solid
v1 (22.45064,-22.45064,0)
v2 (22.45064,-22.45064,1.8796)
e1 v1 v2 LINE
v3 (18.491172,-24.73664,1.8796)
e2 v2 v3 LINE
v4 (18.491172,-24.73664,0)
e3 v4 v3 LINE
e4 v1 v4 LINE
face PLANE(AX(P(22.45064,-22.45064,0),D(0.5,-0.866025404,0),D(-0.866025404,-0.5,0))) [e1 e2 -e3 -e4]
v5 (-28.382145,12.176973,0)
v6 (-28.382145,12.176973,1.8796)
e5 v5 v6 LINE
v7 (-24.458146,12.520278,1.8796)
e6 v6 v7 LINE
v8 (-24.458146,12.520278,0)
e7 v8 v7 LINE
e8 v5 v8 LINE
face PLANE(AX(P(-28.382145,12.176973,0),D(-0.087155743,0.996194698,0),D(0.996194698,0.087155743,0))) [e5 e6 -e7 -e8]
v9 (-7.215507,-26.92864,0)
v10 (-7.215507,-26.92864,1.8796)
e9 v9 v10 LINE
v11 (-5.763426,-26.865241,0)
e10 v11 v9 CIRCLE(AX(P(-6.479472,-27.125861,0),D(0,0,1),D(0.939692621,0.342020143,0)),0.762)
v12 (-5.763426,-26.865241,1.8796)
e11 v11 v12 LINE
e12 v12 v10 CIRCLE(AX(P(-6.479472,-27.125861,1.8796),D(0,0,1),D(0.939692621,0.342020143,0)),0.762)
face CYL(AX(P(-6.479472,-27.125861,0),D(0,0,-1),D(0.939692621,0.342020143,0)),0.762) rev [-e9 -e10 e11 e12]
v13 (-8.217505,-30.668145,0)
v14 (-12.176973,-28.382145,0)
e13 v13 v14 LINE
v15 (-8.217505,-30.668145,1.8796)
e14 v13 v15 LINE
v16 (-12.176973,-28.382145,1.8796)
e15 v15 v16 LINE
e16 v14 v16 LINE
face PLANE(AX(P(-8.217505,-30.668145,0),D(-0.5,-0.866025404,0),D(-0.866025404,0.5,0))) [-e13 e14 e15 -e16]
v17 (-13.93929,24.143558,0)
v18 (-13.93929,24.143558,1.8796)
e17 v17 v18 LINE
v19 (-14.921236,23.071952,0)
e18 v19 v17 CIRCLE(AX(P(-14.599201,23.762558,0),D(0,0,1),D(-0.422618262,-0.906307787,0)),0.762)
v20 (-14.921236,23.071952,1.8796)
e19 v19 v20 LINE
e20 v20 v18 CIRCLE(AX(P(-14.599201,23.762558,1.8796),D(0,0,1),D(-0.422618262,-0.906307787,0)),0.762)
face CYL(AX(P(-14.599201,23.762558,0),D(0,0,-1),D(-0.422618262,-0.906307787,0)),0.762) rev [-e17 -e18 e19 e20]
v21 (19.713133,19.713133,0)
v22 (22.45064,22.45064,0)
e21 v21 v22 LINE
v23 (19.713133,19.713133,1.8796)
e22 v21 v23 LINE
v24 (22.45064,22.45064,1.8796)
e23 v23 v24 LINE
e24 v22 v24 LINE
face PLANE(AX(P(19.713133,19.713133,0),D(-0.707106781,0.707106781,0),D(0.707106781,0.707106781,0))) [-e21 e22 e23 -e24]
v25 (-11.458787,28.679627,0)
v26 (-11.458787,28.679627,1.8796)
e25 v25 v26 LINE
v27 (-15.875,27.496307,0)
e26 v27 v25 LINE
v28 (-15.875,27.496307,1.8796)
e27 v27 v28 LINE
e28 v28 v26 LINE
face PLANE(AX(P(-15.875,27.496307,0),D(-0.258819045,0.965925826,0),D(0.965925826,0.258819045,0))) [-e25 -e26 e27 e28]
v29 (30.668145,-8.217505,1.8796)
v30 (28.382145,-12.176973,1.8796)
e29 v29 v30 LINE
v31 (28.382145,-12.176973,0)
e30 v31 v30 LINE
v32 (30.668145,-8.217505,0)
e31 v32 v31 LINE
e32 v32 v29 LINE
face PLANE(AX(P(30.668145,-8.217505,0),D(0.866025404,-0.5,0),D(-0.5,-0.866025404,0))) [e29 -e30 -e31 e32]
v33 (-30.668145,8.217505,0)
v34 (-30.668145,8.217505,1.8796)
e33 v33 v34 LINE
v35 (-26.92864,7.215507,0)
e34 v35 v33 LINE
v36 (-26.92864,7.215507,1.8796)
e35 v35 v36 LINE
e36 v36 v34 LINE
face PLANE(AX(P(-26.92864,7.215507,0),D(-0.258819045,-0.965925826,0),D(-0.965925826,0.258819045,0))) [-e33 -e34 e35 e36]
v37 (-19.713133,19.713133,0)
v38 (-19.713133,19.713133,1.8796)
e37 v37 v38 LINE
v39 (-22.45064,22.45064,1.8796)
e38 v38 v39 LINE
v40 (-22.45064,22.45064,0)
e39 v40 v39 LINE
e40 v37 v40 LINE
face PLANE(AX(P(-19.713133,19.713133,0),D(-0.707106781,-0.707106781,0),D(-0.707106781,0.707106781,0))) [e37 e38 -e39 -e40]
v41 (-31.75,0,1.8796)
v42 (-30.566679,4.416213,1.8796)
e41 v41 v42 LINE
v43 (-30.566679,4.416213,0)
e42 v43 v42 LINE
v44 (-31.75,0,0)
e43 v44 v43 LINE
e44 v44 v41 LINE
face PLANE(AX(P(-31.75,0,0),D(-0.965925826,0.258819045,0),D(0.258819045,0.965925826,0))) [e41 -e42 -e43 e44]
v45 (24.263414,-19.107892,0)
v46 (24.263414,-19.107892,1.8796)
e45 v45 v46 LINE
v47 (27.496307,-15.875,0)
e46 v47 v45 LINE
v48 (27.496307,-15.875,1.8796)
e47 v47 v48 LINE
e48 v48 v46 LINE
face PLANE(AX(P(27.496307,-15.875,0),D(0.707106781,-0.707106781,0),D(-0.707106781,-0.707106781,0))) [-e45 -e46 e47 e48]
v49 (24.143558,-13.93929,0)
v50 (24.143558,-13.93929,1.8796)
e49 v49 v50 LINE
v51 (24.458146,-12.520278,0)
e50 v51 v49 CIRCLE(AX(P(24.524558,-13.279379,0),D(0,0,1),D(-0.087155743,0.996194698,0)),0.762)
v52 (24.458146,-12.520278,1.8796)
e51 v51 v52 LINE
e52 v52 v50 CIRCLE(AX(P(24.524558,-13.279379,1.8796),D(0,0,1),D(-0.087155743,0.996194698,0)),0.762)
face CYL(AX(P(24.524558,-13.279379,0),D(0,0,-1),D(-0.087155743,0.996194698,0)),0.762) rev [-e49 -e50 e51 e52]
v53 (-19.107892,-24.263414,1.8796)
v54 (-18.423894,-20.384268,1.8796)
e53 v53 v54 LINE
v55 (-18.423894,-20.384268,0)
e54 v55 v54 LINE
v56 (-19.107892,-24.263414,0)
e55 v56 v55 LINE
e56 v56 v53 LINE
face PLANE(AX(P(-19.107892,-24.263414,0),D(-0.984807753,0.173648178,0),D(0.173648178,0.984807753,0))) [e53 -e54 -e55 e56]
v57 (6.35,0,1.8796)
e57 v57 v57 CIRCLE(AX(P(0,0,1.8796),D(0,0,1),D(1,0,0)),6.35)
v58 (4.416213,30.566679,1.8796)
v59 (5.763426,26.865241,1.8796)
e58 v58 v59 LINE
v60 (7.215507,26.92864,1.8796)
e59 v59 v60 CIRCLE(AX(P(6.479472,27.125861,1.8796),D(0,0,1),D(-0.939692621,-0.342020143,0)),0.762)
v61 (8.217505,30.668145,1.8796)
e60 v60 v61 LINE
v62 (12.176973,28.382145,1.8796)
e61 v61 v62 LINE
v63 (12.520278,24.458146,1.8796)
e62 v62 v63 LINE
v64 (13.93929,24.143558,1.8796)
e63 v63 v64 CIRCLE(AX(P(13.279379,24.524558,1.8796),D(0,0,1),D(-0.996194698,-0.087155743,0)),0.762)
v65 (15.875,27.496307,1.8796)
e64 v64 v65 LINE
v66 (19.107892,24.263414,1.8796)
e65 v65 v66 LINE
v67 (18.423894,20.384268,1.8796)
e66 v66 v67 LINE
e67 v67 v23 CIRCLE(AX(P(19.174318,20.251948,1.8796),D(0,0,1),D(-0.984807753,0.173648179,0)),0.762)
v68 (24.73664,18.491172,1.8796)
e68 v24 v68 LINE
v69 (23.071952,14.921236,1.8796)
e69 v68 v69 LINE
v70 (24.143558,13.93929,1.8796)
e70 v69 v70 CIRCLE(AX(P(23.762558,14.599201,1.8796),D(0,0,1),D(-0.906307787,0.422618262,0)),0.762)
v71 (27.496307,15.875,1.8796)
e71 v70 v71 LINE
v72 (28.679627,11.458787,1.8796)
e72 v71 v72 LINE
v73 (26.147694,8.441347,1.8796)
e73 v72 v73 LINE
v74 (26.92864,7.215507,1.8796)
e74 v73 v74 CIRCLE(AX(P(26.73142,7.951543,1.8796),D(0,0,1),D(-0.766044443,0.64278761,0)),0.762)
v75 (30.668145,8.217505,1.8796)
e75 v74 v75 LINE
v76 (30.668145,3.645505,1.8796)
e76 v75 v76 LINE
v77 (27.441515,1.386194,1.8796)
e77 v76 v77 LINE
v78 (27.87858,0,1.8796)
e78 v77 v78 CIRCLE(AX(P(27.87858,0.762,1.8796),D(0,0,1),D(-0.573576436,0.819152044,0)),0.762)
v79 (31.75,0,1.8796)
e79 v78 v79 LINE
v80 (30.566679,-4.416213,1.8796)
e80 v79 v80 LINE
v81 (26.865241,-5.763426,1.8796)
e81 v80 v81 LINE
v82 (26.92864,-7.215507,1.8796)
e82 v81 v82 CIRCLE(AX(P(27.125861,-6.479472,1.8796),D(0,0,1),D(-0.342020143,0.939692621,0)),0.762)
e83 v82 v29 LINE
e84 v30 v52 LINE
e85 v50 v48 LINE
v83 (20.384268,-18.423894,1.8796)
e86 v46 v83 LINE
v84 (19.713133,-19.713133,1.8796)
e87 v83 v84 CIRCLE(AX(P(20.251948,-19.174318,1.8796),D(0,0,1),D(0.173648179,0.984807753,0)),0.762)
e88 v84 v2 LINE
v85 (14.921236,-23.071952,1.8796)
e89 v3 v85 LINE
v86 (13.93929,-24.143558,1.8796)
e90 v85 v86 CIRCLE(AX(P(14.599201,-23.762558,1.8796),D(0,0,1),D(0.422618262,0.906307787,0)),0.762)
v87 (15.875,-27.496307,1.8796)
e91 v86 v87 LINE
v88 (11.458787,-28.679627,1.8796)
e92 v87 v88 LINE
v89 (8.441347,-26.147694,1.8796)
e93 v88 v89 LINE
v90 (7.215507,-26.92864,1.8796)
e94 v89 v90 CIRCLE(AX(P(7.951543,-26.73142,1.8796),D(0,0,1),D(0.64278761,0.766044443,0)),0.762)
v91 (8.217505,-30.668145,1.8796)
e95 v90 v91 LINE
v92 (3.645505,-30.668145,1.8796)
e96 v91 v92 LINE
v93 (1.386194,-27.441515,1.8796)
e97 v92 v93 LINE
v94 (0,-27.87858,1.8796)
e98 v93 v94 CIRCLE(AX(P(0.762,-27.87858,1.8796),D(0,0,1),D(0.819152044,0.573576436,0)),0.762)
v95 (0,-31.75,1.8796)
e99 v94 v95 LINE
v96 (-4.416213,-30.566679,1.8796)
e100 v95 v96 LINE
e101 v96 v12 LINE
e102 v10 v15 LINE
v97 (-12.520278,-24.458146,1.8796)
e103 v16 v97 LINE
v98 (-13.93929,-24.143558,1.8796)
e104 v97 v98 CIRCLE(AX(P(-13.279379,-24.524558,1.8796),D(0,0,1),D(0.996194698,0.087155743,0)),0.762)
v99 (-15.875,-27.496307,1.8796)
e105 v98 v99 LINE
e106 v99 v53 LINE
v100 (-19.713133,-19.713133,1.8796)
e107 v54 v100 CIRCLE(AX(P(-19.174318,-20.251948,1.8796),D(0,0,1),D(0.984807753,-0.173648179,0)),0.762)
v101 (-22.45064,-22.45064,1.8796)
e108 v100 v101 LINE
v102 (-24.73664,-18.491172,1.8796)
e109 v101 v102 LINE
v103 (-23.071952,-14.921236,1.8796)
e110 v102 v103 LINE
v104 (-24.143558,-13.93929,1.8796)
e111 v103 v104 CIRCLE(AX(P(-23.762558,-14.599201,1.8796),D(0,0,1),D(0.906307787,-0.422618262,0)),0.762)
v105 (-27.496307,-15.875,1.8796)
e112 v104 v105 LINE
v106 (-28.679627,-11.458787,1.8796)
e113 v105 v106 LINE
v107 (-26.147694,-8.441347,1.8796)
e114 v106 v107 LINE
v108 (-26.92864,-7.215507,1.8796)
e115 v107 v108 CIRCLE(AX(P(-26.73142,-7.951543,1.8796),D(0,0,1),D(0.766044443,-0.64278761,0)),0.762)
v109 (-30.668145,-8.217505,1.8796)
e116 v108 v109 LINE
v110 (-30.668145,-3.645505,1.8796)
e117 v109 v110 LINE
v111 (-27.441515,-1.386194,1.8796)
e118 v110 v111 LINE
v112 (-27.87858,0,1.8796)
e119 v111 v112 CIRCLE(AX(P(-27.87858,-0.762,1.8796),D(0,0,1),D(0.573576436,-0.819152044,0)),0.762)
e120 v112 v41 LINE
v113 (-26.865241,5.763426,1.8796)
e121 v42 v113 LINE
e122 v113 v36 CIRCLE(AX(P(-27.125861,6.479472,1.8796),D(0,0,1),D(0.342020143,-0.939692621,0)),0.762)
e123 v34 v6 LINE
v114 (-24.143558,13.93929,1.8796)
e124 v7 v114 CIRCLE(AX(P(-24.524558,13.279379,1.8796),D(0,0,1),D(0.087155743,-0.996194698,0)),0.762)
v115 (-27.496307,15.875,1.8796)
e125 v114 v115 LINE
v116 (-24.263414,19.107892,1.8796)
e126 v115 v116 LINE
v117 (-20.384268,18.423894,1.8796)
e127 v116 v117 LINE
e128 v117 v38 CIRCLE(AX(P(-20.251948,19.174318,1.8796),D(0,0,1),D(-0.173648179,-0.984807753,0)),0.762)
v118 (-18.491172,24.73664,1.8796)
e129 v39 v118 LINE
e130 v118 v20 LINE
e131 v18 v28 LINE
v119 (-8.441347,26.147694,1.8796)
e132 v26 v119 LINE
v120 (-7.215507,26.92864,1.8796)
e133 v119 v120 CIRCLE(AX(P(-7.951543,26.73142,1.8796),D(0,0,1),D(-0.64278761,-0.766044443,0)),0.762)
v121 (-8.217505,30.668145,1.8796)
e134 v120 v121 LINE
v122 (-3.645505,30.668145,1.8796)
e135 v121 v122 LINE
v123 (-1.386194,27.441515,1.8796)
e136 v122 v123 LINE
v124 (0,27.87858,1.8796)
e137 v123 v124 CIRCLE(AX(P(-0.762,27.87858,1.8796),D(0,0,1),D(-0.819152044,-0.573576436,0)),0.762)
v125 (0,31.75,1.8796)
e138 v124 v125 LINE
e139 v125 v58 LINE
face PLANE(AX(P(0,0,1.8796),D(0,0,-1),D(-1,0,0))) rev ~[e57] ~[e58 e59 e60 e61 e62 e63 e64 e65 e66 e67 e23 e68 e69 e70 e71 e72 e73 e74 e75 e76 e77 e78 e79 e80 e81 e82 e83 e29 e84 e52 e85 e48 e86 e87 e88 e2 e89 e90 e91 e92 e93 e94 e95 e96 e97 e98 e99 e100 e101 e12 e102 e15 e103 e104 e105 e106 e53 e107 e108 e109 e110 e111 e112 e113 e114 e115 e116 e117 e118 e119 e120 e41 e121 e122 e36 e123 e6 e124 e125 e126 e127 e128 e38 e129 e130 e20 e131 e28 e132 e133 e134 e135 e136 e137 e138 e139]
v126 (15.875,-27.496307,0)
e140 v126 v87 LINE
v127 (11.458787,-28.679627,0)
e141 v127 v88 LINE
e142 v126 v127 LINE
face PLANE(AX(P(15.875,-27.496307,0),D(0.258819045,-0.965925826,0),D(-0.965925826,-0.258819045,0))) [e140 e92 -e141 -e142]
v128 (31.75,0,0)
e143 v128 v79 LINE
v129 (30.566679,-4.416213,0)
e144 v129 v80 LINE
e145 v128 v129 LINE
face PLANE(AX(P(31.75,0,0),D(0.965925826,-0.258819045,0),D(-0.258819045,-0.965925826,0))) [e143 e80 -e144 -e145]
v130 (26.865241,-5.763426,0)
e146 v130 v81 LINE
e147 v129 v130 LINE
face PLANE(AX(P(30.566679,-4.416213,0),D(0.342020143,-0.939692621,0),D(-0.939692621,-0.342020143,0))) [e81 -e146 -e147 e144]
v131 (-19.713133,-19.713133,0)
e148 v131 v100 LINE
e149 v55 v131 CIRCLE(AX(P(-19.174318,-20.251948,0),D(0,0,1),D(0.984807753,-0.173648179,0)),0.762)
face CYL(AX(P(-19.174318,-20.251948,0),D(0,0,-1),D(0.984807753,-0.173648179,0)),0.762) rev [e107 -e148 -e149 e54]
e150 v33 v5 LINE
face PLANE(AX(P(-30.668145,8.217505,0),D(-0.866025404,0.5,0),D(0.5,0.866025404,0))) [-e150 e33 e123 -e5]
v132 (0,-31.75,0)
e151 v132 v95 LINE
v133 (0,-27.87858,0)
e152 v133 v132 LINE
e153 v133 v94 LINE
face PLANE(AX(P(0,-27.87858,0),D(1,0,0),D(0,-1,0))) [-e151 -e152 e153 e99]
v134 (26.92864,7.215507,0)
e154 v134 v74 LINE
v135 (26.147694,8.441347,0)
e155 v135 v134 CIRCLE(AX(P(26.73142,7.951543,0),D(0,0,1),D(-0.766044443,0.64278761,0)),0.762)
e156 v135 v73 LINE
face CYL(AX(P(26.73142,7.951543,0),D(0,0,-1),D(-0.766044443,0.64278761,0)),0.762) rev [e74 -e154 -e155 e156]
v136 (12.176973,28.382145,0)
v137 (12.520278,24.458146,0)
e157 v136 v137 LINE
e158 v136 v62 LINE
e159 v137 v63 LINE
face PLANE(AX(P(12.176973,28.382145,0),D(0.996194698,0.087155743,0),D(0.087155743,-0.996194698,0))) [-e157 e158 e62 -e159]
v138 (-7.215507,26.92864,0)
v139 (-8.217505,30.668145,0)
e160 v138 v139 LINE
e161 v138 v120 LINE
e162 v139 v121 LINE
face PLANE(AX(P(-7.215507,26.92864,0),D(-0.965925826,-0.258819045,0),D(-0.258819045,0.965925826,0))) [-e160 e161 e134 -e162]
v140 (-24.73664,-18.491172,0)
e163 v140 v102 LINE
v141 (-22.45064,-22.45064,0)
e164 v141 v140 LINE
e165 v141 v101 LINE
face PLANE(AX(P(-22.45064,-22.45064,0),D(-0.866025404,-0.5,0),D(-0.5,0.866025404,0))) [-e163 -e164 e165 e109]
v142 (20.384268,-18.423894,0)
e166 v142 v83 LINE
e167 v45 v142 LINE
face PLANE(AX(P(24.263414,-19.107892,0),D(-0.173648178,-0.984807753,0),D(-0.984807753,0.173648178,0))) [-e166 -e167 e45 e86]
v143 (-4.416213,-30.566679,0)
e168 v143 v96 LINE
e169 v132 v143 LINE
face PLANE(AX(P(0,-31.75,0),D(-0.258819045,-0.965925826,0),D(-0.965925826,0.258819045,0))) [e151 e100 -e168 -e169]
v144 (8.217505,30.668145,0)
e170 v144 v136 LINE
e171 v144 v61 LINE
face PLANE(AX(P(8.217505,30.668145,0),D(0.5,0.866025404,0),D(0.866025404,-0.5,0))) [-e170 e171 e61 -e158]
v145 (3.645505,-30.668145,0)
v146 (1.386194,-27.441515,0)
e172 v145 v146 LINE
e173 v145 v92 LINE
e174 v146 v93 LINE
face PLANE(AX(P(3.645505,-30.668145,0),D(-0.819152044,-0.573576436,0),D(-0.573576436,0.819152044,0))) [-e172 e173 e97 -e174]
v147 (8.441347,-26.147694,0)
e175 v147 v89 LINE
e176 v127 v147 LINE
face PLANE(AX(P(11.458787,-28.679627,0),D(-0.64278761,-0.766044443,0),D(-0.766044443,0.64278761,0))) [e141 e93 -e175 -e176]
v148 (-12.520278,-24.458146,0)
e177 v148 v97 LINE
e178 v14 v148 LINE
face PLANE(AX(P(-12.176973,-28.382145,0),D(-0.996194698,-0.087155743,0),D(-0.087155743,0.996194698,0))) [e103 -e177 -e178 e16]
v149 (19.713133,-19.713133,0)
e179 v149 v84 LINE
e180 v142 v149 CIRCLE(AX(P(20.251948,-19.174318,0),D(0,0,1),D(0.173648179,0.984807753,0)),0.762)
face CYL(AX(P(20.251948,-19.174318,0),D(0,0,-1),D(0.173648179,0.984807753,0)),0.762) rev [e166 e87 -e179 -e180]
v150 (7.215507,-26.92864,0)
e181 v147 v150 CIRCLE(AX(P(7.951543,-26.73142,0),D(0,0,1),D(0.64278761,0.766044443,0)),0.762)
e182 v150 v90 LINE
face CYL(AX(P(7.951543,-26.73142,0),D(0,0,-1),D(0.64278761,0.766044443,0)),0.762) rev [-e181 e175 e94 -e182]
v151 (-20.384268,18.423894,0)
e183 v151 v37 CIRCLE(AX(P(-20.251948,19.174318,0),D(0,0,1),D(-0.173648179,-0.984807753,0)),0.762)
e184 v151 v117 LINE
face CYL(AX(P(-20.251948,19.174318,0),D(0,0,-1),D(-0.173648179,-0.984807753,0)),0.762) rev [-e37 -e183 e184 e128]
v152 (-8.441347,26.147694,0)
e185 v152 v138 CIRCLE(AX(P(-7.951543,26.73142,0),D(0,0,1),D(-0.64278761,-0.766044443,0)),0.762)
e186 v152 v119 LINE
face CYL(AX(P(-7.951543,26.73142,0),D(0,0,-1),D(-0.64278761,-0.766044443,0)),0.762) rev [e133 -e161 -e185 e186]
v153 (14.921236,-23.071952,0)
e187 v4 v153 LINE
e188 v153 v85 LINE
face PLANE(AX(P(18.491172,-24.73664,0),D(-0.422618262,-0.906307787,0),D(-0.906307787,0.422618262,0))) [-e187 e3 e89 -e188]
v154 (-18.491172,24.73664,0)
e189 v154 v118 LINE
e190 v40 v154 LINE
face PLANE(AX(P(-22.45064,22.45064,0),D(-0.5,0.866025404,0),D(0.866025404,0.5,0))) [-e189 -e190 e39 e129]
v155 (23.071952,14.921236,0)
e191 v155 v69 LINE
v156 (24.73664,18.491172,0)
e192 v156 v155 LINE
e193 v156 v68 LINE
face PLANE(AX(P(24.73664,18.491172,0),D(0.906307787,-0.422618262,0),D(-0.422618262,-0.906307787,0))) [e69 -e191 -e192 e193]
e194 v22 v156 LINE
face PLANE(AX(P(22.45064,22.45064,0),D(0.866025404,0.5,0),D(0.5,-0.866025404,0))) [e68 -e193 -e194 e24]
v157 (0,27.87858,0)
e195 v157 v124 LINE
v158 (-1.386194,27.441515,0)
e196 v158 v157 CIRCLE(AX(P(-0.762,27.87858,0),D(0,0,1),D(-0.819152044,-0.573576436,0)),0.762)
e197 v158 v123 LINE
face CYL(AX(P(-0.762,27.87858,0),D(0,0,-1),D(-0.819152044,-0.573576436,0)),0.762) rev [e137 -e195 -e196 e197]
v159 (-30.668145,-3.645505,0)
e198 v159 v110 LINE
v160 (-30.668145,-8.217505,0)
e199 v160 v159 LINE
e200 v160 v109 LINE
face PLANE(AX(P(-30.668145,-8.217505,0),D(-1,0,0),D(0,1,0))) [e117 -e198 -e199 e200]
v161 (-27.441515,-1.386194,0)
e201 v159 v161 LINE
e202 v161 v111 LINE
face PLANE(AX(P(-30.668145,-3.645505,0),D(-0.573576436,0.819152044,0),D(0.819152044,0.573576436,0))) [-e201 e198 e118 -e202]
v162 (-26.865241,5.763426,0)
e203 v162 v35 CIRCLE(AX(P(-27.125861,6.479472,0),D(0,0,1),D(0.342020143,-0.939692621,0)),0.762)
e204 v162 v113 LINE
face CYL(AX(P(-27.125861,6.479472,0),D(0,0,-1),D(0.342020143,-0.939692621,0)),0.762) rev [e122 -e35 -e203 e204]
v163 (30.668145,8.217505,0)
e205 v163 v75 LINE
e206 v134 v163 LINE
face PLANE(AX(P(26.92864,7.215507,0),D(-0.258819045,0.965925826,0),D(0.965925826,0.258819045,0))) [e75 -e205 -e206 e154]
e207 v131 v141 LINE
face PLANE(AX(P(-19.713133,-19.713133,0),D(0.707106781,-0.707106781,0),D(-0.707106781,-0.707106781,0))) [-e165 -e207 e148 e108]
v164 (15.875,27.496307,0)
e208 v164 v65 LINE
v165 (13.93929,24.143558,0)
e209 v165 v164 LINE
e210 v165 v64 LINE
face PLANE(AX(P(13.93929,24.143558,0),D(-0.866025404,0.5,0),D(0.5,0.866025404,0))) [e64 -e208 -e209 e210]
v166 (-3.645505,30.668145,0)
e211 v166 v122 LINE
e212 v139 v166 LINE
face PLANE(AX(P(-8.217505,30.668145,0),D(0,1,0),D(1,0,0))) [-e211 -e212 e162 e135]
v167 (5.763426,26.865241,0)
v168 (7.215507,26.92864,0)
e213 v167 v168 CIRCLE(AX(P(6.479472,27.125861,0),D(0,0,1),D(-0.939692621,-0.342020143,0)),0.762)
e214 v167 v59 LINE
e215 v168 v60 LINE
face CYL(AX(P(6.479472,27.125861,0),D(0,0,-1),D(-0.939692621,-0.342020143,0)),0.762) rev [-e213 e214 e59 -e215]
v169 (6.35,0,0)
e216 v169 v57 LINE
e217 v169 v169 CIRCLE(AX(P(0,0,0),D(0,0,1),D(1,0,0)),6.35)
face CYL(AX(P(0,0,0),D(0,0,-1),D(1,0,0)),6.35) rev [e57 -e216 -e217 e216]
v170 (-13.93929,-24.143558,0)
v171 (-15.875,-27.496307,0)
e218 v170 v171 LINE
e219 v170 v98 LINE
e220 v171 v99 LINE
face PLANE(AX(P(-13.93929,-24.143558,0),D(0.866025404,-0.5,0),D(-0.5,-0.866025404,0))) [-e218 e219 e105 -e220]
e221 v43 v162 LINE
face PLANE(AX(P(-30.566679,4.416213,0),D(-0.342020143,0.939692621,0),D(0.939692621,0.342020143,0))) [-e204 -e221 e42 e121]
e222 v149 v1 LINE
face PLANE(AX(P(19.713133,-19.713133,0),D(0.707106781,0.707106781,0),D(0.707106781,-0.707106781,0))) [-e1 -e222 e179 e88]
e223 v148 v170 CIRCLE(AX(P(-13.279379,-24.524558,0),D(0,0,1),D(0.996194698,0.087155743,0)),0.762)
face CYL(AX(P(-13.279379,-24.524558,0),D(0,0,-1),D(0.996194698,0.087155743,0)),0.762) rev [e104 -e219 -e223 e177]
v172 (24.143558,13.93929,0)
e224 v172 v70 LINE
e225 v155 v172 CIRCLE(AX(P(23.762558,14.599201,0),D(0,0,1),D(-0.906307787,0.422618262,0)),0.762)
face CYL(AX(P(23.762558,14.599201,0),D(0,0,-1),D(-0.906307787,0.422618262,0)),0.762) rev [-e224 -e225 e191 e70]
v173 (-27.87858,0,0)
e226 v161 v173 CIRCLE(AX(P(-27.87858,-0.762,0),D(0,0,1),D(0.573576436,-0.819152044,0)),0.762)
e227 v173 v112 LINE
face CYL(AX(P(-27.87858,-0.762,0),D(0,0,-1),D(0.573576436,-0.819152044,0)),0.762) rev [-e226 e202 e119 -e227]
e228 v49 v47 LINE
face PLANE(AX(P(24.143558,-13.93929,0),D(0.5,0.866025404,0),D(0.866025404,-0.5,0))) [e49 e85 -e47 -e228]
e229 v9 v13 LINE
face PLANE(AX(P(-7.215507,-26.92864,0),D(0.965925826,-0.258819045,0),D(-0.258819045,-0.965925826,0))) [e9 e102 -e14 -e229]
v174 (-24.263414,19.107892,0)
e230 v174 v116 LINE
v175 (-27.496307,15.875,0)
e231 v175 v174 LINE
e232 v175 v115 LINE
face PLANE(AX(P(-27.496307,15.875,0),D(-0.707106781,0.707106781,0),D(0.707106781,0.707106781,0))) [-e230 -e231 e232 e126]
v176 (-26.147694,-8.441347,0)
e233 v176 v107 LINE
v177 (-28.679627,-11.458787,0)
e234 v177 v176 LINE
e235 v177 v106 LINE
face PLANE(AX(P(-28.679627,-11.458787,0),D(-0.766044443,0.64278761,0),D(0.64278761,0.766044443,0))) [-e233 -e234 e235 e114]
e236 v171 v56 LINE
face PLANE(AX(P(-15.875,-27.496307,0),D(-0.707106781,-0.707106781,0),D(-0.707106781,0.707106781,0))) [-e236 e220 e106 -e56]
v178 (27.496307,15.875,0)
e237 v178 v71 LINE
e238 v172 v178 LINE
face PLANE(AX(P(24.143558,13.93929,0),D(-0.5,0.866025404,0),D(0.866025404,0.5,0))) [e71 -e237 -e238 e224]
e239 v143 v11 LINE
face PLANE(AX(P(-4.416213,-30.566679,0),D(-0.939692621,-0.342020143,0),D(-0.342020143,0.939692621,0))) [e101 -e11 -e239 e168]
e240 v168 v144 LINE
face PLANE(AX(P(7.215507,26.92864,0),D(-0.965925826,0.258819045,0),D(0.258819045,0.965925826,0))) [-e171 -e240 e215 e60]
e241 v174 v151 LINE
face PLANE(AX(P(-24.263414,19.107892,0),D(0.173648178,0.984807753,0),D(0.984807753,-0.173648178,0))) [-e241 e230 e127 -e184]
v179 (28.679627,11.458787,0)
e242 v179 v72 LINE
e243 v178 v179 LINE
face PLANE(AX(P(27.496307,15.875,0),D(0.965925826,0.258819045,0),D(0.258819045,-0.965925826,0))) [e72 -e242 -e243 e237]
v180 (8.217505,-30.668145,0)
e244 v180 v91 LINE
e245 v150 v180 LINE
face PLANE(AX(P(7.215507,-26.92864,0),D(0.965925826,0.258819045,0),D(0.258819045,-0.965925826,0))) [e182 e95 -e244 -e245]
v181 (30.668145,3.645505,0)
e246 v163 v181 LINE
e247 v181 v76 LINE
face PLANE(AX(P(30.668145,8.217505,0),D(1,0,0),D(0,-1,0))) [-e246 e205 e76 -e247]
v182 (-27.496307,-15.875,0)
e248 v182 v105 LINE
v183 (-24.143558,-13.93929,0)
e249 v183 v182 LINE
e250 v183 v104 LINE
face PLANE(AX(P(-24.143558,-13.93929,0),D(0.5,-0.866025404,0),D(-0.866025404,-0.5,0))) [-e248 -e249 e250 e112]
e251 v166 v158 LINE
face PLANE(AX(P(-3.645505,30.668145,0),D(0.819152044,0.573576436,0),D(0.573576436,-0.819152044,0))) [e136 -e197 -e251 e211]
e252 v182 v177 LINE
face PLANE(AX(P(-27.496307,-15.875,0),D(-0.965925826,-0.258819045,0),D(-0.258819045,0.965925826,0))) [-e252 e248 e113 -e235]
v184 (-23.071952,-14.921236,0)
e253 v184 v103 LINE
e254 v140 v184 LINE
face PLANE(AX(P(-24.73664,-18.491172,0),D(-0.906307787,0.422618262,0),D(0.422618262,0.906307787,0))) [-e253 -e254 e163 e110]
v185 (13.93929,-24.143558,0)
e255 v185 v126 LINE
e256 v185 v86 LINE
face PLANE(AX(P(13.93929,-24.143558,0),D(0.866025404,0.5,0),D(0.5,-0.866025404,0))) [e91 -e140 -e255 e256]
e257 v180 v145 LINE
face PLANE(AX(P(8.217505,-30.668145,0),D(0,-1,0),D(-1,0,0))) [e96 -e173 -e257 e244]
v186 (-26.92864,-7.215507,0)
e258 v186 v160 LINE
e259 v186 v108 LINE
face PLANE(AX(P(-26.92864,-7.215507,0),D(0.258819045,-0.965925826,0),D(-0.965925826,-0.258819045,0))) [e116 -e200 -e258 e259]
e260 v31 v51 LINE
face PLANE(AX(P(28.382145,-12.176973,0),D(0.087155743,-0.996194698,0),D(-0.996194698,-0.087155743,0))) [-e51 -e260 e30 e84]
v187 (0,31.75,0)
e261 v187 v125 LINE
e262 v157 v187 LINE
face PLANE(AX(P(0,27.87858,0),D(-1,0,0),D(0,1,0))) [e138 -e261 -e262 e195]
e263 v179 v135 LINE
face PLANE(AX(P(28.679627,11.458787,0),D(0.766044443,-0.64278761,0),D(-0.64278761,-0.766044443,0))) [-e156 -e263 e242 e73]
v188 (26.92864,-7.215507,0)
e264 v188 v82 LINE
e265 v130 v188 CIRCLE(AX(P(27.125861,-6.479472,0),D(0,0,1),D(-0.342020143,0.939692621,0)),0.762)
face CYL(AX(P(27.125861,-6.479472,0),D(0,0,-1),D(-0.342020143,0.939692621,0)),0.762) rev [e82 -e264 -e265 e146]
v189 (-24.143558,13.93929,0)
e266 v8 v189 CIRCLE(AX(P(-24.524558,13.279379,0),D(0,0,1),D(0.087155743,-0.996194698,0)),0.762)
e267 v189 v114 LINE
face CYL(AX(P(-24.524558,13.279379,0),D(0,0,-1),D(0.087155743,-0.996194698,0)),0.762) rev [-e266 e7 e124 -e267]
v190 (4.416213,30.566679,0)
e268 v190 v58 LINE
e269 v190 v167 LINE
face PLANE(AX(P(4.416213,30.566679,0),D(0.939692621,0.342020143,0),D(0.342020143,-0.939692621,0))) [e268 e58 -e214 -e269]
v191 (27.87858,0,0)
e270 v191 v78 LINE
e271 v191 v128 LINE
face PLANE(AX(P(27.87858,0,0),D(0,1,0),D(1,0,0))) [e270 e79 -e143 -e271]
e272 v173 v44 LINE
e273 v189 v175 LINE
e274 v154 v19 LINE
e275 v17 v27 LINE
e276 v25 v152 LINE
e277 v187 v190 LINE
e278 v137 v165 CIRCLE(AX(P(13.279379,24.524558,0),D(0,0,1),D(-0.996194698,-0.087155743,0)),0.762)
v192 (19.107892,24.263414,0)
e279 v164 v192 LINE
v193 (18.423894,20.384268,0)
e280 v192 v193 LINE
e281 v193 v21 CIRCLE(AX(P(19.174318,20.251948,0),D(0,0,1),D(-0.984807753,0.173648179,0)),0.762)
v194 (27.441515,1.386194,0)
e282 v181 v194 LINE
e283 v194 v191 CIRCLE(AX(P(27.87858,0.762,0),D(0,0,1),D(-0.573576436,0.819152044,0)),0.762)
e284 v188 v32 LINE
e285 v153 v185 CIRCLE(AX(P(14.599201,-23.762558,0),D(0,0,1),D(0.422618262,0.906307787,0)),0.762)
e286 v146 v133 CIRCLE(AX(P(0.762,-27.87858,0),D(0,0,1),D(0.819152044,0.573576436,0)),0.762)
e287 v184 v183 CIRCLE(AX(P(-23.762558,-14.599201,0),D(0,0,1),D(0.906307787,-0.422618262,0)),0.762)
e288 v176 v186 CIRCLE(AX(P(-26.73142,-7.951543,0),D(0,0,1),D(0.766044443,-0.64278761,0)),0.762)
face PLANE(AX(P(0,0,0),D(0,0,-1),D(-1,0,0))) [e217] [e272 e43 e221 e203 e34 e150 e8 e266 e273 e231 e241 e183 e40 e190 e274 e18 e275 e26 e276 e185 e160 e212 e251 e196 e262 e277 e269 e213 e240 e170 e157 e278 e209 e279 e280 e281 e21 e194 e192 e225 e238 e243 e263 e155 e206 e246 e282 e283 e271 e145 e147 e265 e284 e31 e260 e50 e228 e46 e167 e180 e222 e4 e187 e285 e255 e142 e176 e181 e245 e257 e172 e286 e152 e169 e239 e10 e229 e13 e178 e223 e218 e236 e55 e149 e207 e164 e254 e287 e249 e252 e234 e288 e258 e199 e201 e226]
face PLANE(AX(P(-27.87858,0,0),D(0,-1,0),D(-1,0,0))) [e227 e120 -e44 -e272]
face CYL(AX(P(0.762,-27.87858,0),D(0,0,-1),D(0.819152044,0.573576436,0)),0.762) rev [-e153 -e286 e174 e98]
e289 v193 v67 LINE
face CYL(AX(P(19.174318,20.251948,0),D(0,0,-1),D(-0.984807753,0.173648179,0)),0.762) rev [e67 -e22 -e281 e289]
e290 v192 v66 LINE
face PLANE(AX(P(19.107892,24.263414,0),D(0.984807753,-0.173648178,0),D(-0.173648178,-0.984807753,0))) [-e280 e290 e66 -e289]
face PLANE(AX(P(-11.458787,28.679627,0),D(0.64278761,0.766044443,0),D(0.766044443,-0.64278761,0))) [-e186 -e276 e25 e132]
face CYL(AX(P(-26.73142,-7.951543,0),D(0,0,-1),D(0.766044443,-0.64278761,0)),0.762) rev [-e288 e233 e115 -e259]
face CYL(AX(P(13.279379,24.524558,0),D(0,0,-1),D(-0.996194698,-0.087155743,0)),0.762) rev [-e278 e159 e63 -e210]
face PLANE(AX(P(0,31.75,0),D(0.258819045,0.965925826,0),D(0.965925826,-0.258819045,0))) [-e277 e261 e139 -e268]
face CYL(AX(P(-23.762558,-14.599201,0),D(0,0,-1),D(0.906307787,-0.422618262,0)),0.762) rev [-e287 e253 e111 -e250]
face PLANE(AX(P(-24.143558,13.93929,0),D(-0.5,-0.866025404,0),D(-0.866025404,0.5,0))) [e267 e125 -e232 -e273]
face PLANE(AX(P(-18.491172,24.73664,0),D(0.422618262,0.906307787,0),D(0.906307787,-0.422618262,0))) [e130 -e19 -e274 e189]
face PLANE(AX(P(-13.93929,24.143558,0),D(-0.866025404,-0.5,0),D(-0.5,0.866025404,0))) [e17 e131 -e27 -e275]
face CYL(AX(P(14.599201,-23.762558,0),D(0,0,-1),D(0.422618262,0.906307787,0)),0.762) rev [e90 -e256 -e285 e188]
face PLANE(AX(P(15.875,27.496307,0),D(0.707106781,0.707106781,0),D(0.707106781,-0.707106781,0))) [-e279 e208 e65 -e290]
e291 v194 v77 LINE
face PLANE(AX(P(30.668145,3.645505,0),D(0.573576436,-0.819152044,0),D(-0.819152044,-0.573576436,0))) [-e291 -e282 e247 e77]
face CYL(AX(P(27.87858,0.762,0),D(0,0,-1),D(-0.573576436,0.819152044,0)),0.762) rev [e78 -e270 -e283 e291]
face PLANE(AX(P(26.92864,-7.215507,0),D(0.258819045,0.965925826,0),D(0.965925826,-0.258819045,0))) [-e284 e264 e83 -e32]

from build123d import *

# Parameters (mm, degrees)
SKETCH1_R           = 6.35
BOSS_EXTRUDE1_DEPTH = 1.8796


with BuildPart() as part:
    # Sketch1 → Boss-Extrude1 (new body)
    with BuildSketch(Plane.XY):
        with BuildLine():
            Line((0, 31.75), (4.416212878, 30.566679326))
            Line((4.416212878, 30.566679326), (5.763426192, 26.865241165))
            ThreePointArc((5.763426192, 26.865241165), (6.512709942, 26.364585769), (7.215507449, 26.928640402))
            Line((7.215507449, 26.928640402), (8.217504682, 30.668144985))
            Line((8.217504682, 30.668144985), (12.176972828, 28.382144985))
            Line((12.176972828, 28.382144985), (12.520278272, 24.458145807))
            ThreePointArc((12.520278272, 24.458145807), (13.114451646, 23.780620926), (13.939289989, 24.143558483))
            Line((13.939289989, 24.143558483), (15.875, 27.49630657))
            Line((15.875, 27.49630657), (19.107892204, 24.263414367))
            Line((19.107892204, 24.263414367), (18.423894078, 20.384268232))
            ThreePointArc((18.423894078, 20.384268232), (18.822465142, 19.576046065), (19.713132953, 19.713132953))
            Line((19.713132953, 19.713132953), (22.450640303, 22.450640303))
            Line((22.450640303, 22.450640303), (24.736640303, 18.491172157))
            Line((24.736640303, 18.491172157), (23.071951949, 14.921236463))
            ThreePointArc((23.071951949, 14.921236463), (23.247758745, 14.037396016), (24.143558483, 13.939289989))
            Line((24.143558483, 13.939289989), (27.49630657, 15.875))
            Line((27.49630657, 15.875), (28.679627244, 11.458787122))
            Line((28.679627244, 11.458787122), (26.147694424, 8.441347087))
            ThreePointArc((26.147694424, 8.441347087), (26.088756008, 7.542120627), (26.928640402, 7.215507449))
            Line((26.928640402, 7.215507449), (30.668144985, 8.217504682))
            Line((30.668144985, 8.217504682), (30.668144985, 3.645504682))
            Line((30.668144985, 3.645504682), (27.441514734, 1.386193858))
            ThreePointArc((27.441514734, 1.386193858), (27.151847662, 0.532862181), (27.878579979, 0))
            Line((27.878579979, 0), (31.75, 0))
            Line((31.75, 0), (30.566679326, -4.416212878))
            Line((30.566679326, -4.416212878), (26.865241165, -5.763426192))
            ThreePointArc((26.865241165, -5.763426192), (26.364585769, -6.512709942), (26.928640402, -7.215507449))
            Line((26.928640402, -7.215507449), (30.668144985, -8.217504682))
            Line((30.668144985, -8.217504682), (28.382144985, -12.176972828))
            Line((28.382144985, -12.176972828), (24.458145807, -12.520278272))
            ThreePointArc((24.458145807, -12.520278272), (23.780620926, -13.114451646), (24.143558483, -13.939289989))
            Line((24.143558483, -13.939289989), (27.49630657, -15.875))
            Line((27.49630657, -15.875), (24.263414367, -19.107892204))
            Line((24.263414367, -19.107892204), (20.384268232, -18.423894078))
            ThreePointArc((20.384268232, -18.423894078), (19.576046065, -18.822465142), (19.713132953, -19.713132953))
            Line((19.713132953, -19.713132953), (22.450640303, -22.450640303))
            Line((22.450640303, -22.450640303), (18.491172157, -24.736640303))
            Line((18.491172157, -24.736640303), (14.921236463, -23.071951949))
            ThreePointArc((14.921236463, -23.071951949), (14.037396016, -23.247758745), (13.939289989, -24.143558483))
            Line((13.939289989, -24.143558483), (15.875, -27.49630657))
            Line((15.875, -27.49630657), (11.458787122, -28.679627244))
            Line((11.458787122, -28.679627244), (8.441347087, -26.147694424))
            ThreePointArc((8.441347087, -26.147694424), (7.542120627, -26.088756008), (7.215507449, -26.928640402))
            Line((7.215507449, -26.928640402), (8.217504682, -30.668144985))
            Line((8.217504682, -30.668144985), (3.645504682, -30.668144985))
            Line((3.645504682, -30.668144985), (1.386193858, -27.441514734))
            ThreePointArc((1.386193858, -27.441514734), (0.532862181, -27.151847662), (0, -27.878579979))
            Line((0, -27.878579979), (0, -31.75))
            Line((0, -31.75), (-4.416212878, -30.566679326))
            Line((-4.416212878, -30.566679326), (-5.763426192, -26.865241165))
            ThreePointArc((-5.763426192, -26.865241165), (-6.512709942, -26.364585769), (-7.215507449, -26.928640402))
            Line((-7.215507449, -26.928640402), (-8.217504682, -30.668144985))
            Line((-8.217504682, -30.668144985), (-12.176972828, -28.382144985))
            Line((-12.176972828, -28.382144985), (-12.520278272, -24.458145807))
            ThreePointArc((-12.520278272, -24.458145807), (-13.114451646, -23.780620926), (-13.939289989, -24.143558483))
            Line((-13.939289989, -24.143558483), (-15.875, -27.49630657))
            Line((-15.875, -27.49630657), (-19.107892204, -24.263414367))
            Line((-19.107892204, -24.263414367), (-18.423894078, -20.384268232))
            ThreePointArc((-18.423894078, -20.384268232), (-18.822465142, -19.576046065), (-19.713132953, -19.713132953))
            Line((-19.713132953, -19.713132953), (-22.450640303, -22.450640303))
            Line((-22.450640303, -22.450640303), (-24.736640303, -18.491172157))
            Line((-24.736640303, -18.491172157), (-23.071951949, -14.921236463))
            ThreePointArc((-23.071951949, -14.921236463), (-23.247758745, -14.037396016), (-24.143558483, -13.939289989))
            Line((-24.143558483, -13.939289989), (-27.49630657, -15.875))
            Line((-27.49630657, -15.875), (-28.679627244, -11.458787122))
            Line((-28.679627244, -11.458787122), (-26.147694424, -8.441347087))
            ThreePointArc((-26.147694424, -8.441347087), (-26.088756008, -7.542120627), (-26.928640402, -7.215507449))
            Line((-26.928640402, -7.215507449), (-30.668144985, -8.217504682))
            Line((-30.668144985, -8.217504682), (-30.668144985, -3.645504682))
            Line((-30.668144985, -3.645504682), (-27.441514734, -1.386193858))
            ThreePointArc((-27.441514734, -1.386193858), (-27.151847662, -0.532862181), (-27.878579979, 0))
            Line((-27.878579979, 0), (-31.75, 0))
            Line((-31.75, 0), (-30.566679326, 4.416212878))
            Line((-30.566679326, 4.416212878), (-26.865241165, 5.763426192))
            ThreePointArc((-26.865241165, 5.763426192), (-26.364585769, 6.512709942), (-26.928640402, 7.215507449))
            Line((-26.928640402, 7.215507449), (-30.668144985, 8.217504682))
            Line((-30.668144985, 8.217504682), (-28.382144985, 12.176972828))
            Line((-28.382144985, 12.176972828), (-24.458145807, 12.520278272))
            ThreePointArc((-24.458145807, 12.520278272), (-23.780620926, 13.114451646), (-24.143558483, 13.939289989))
            Line((-24.143558483, 13.939289989), (-27.49630657, 15.875))
            Line((-27.49630657, 15.875), (-24.263414367, 19.107892204))
            Line((-24.263414367, 19.107892204), (-20.384268232, 18.423894078))
            ThreePointArc((-20.384268232, 18.423894078), (-19.576046065, 18.822465142), (-19.713132953, 19.713132953))
            Line((-19.713132953, 19.713132953), (-22.450640303, 22.450640303))
            Line((-22.450640303, 22.450640303), (-18.491172157, 24.736640303))
            Line((-18.491172157, 24.736640303), (-14.921236463, 23.071951949))
            ThreePointArc((-14.921236463, 23.071951949), (-14.037396016, 23.247758745), (-13.939289989, 24.143558483))
            Line((-13.939289989, 24.143558483), (-15.875, 27.49630657))
            Line((-15.875, 27.49630657), (-11.458787122, 28.679627244))
            Line((-11.458787122, 28.679627244), (-8.441347087, 26.147694424))
            ThreePointArc((-8.441347087, 26.147694424), (-7.542120627, 26.088756008), (-7.215507449, 26.928640402))
            Line((-7.215507449, 26.928640402), (-8.217504682, 30.668144985))
            Line((-8.217504682, 30.668144985), (-3.645504682, 30.668144985))
            Line((-3.645504682, 30.668144985), (-1.386193858, 27.441514734))
            ThreePointArc((-1.386193858, 27.441514734), (-0.532862181, 27.151847662), (0, 27.878579979))
            Line((0, 27.878579979), (0, 31.75))
        make_face()
        Circle(SKETCH1_R, mode=Mode.SUBTRACT)
    extrude(amount=BOSS_EXTRUDE1_DEPTH)


solid = part.part
